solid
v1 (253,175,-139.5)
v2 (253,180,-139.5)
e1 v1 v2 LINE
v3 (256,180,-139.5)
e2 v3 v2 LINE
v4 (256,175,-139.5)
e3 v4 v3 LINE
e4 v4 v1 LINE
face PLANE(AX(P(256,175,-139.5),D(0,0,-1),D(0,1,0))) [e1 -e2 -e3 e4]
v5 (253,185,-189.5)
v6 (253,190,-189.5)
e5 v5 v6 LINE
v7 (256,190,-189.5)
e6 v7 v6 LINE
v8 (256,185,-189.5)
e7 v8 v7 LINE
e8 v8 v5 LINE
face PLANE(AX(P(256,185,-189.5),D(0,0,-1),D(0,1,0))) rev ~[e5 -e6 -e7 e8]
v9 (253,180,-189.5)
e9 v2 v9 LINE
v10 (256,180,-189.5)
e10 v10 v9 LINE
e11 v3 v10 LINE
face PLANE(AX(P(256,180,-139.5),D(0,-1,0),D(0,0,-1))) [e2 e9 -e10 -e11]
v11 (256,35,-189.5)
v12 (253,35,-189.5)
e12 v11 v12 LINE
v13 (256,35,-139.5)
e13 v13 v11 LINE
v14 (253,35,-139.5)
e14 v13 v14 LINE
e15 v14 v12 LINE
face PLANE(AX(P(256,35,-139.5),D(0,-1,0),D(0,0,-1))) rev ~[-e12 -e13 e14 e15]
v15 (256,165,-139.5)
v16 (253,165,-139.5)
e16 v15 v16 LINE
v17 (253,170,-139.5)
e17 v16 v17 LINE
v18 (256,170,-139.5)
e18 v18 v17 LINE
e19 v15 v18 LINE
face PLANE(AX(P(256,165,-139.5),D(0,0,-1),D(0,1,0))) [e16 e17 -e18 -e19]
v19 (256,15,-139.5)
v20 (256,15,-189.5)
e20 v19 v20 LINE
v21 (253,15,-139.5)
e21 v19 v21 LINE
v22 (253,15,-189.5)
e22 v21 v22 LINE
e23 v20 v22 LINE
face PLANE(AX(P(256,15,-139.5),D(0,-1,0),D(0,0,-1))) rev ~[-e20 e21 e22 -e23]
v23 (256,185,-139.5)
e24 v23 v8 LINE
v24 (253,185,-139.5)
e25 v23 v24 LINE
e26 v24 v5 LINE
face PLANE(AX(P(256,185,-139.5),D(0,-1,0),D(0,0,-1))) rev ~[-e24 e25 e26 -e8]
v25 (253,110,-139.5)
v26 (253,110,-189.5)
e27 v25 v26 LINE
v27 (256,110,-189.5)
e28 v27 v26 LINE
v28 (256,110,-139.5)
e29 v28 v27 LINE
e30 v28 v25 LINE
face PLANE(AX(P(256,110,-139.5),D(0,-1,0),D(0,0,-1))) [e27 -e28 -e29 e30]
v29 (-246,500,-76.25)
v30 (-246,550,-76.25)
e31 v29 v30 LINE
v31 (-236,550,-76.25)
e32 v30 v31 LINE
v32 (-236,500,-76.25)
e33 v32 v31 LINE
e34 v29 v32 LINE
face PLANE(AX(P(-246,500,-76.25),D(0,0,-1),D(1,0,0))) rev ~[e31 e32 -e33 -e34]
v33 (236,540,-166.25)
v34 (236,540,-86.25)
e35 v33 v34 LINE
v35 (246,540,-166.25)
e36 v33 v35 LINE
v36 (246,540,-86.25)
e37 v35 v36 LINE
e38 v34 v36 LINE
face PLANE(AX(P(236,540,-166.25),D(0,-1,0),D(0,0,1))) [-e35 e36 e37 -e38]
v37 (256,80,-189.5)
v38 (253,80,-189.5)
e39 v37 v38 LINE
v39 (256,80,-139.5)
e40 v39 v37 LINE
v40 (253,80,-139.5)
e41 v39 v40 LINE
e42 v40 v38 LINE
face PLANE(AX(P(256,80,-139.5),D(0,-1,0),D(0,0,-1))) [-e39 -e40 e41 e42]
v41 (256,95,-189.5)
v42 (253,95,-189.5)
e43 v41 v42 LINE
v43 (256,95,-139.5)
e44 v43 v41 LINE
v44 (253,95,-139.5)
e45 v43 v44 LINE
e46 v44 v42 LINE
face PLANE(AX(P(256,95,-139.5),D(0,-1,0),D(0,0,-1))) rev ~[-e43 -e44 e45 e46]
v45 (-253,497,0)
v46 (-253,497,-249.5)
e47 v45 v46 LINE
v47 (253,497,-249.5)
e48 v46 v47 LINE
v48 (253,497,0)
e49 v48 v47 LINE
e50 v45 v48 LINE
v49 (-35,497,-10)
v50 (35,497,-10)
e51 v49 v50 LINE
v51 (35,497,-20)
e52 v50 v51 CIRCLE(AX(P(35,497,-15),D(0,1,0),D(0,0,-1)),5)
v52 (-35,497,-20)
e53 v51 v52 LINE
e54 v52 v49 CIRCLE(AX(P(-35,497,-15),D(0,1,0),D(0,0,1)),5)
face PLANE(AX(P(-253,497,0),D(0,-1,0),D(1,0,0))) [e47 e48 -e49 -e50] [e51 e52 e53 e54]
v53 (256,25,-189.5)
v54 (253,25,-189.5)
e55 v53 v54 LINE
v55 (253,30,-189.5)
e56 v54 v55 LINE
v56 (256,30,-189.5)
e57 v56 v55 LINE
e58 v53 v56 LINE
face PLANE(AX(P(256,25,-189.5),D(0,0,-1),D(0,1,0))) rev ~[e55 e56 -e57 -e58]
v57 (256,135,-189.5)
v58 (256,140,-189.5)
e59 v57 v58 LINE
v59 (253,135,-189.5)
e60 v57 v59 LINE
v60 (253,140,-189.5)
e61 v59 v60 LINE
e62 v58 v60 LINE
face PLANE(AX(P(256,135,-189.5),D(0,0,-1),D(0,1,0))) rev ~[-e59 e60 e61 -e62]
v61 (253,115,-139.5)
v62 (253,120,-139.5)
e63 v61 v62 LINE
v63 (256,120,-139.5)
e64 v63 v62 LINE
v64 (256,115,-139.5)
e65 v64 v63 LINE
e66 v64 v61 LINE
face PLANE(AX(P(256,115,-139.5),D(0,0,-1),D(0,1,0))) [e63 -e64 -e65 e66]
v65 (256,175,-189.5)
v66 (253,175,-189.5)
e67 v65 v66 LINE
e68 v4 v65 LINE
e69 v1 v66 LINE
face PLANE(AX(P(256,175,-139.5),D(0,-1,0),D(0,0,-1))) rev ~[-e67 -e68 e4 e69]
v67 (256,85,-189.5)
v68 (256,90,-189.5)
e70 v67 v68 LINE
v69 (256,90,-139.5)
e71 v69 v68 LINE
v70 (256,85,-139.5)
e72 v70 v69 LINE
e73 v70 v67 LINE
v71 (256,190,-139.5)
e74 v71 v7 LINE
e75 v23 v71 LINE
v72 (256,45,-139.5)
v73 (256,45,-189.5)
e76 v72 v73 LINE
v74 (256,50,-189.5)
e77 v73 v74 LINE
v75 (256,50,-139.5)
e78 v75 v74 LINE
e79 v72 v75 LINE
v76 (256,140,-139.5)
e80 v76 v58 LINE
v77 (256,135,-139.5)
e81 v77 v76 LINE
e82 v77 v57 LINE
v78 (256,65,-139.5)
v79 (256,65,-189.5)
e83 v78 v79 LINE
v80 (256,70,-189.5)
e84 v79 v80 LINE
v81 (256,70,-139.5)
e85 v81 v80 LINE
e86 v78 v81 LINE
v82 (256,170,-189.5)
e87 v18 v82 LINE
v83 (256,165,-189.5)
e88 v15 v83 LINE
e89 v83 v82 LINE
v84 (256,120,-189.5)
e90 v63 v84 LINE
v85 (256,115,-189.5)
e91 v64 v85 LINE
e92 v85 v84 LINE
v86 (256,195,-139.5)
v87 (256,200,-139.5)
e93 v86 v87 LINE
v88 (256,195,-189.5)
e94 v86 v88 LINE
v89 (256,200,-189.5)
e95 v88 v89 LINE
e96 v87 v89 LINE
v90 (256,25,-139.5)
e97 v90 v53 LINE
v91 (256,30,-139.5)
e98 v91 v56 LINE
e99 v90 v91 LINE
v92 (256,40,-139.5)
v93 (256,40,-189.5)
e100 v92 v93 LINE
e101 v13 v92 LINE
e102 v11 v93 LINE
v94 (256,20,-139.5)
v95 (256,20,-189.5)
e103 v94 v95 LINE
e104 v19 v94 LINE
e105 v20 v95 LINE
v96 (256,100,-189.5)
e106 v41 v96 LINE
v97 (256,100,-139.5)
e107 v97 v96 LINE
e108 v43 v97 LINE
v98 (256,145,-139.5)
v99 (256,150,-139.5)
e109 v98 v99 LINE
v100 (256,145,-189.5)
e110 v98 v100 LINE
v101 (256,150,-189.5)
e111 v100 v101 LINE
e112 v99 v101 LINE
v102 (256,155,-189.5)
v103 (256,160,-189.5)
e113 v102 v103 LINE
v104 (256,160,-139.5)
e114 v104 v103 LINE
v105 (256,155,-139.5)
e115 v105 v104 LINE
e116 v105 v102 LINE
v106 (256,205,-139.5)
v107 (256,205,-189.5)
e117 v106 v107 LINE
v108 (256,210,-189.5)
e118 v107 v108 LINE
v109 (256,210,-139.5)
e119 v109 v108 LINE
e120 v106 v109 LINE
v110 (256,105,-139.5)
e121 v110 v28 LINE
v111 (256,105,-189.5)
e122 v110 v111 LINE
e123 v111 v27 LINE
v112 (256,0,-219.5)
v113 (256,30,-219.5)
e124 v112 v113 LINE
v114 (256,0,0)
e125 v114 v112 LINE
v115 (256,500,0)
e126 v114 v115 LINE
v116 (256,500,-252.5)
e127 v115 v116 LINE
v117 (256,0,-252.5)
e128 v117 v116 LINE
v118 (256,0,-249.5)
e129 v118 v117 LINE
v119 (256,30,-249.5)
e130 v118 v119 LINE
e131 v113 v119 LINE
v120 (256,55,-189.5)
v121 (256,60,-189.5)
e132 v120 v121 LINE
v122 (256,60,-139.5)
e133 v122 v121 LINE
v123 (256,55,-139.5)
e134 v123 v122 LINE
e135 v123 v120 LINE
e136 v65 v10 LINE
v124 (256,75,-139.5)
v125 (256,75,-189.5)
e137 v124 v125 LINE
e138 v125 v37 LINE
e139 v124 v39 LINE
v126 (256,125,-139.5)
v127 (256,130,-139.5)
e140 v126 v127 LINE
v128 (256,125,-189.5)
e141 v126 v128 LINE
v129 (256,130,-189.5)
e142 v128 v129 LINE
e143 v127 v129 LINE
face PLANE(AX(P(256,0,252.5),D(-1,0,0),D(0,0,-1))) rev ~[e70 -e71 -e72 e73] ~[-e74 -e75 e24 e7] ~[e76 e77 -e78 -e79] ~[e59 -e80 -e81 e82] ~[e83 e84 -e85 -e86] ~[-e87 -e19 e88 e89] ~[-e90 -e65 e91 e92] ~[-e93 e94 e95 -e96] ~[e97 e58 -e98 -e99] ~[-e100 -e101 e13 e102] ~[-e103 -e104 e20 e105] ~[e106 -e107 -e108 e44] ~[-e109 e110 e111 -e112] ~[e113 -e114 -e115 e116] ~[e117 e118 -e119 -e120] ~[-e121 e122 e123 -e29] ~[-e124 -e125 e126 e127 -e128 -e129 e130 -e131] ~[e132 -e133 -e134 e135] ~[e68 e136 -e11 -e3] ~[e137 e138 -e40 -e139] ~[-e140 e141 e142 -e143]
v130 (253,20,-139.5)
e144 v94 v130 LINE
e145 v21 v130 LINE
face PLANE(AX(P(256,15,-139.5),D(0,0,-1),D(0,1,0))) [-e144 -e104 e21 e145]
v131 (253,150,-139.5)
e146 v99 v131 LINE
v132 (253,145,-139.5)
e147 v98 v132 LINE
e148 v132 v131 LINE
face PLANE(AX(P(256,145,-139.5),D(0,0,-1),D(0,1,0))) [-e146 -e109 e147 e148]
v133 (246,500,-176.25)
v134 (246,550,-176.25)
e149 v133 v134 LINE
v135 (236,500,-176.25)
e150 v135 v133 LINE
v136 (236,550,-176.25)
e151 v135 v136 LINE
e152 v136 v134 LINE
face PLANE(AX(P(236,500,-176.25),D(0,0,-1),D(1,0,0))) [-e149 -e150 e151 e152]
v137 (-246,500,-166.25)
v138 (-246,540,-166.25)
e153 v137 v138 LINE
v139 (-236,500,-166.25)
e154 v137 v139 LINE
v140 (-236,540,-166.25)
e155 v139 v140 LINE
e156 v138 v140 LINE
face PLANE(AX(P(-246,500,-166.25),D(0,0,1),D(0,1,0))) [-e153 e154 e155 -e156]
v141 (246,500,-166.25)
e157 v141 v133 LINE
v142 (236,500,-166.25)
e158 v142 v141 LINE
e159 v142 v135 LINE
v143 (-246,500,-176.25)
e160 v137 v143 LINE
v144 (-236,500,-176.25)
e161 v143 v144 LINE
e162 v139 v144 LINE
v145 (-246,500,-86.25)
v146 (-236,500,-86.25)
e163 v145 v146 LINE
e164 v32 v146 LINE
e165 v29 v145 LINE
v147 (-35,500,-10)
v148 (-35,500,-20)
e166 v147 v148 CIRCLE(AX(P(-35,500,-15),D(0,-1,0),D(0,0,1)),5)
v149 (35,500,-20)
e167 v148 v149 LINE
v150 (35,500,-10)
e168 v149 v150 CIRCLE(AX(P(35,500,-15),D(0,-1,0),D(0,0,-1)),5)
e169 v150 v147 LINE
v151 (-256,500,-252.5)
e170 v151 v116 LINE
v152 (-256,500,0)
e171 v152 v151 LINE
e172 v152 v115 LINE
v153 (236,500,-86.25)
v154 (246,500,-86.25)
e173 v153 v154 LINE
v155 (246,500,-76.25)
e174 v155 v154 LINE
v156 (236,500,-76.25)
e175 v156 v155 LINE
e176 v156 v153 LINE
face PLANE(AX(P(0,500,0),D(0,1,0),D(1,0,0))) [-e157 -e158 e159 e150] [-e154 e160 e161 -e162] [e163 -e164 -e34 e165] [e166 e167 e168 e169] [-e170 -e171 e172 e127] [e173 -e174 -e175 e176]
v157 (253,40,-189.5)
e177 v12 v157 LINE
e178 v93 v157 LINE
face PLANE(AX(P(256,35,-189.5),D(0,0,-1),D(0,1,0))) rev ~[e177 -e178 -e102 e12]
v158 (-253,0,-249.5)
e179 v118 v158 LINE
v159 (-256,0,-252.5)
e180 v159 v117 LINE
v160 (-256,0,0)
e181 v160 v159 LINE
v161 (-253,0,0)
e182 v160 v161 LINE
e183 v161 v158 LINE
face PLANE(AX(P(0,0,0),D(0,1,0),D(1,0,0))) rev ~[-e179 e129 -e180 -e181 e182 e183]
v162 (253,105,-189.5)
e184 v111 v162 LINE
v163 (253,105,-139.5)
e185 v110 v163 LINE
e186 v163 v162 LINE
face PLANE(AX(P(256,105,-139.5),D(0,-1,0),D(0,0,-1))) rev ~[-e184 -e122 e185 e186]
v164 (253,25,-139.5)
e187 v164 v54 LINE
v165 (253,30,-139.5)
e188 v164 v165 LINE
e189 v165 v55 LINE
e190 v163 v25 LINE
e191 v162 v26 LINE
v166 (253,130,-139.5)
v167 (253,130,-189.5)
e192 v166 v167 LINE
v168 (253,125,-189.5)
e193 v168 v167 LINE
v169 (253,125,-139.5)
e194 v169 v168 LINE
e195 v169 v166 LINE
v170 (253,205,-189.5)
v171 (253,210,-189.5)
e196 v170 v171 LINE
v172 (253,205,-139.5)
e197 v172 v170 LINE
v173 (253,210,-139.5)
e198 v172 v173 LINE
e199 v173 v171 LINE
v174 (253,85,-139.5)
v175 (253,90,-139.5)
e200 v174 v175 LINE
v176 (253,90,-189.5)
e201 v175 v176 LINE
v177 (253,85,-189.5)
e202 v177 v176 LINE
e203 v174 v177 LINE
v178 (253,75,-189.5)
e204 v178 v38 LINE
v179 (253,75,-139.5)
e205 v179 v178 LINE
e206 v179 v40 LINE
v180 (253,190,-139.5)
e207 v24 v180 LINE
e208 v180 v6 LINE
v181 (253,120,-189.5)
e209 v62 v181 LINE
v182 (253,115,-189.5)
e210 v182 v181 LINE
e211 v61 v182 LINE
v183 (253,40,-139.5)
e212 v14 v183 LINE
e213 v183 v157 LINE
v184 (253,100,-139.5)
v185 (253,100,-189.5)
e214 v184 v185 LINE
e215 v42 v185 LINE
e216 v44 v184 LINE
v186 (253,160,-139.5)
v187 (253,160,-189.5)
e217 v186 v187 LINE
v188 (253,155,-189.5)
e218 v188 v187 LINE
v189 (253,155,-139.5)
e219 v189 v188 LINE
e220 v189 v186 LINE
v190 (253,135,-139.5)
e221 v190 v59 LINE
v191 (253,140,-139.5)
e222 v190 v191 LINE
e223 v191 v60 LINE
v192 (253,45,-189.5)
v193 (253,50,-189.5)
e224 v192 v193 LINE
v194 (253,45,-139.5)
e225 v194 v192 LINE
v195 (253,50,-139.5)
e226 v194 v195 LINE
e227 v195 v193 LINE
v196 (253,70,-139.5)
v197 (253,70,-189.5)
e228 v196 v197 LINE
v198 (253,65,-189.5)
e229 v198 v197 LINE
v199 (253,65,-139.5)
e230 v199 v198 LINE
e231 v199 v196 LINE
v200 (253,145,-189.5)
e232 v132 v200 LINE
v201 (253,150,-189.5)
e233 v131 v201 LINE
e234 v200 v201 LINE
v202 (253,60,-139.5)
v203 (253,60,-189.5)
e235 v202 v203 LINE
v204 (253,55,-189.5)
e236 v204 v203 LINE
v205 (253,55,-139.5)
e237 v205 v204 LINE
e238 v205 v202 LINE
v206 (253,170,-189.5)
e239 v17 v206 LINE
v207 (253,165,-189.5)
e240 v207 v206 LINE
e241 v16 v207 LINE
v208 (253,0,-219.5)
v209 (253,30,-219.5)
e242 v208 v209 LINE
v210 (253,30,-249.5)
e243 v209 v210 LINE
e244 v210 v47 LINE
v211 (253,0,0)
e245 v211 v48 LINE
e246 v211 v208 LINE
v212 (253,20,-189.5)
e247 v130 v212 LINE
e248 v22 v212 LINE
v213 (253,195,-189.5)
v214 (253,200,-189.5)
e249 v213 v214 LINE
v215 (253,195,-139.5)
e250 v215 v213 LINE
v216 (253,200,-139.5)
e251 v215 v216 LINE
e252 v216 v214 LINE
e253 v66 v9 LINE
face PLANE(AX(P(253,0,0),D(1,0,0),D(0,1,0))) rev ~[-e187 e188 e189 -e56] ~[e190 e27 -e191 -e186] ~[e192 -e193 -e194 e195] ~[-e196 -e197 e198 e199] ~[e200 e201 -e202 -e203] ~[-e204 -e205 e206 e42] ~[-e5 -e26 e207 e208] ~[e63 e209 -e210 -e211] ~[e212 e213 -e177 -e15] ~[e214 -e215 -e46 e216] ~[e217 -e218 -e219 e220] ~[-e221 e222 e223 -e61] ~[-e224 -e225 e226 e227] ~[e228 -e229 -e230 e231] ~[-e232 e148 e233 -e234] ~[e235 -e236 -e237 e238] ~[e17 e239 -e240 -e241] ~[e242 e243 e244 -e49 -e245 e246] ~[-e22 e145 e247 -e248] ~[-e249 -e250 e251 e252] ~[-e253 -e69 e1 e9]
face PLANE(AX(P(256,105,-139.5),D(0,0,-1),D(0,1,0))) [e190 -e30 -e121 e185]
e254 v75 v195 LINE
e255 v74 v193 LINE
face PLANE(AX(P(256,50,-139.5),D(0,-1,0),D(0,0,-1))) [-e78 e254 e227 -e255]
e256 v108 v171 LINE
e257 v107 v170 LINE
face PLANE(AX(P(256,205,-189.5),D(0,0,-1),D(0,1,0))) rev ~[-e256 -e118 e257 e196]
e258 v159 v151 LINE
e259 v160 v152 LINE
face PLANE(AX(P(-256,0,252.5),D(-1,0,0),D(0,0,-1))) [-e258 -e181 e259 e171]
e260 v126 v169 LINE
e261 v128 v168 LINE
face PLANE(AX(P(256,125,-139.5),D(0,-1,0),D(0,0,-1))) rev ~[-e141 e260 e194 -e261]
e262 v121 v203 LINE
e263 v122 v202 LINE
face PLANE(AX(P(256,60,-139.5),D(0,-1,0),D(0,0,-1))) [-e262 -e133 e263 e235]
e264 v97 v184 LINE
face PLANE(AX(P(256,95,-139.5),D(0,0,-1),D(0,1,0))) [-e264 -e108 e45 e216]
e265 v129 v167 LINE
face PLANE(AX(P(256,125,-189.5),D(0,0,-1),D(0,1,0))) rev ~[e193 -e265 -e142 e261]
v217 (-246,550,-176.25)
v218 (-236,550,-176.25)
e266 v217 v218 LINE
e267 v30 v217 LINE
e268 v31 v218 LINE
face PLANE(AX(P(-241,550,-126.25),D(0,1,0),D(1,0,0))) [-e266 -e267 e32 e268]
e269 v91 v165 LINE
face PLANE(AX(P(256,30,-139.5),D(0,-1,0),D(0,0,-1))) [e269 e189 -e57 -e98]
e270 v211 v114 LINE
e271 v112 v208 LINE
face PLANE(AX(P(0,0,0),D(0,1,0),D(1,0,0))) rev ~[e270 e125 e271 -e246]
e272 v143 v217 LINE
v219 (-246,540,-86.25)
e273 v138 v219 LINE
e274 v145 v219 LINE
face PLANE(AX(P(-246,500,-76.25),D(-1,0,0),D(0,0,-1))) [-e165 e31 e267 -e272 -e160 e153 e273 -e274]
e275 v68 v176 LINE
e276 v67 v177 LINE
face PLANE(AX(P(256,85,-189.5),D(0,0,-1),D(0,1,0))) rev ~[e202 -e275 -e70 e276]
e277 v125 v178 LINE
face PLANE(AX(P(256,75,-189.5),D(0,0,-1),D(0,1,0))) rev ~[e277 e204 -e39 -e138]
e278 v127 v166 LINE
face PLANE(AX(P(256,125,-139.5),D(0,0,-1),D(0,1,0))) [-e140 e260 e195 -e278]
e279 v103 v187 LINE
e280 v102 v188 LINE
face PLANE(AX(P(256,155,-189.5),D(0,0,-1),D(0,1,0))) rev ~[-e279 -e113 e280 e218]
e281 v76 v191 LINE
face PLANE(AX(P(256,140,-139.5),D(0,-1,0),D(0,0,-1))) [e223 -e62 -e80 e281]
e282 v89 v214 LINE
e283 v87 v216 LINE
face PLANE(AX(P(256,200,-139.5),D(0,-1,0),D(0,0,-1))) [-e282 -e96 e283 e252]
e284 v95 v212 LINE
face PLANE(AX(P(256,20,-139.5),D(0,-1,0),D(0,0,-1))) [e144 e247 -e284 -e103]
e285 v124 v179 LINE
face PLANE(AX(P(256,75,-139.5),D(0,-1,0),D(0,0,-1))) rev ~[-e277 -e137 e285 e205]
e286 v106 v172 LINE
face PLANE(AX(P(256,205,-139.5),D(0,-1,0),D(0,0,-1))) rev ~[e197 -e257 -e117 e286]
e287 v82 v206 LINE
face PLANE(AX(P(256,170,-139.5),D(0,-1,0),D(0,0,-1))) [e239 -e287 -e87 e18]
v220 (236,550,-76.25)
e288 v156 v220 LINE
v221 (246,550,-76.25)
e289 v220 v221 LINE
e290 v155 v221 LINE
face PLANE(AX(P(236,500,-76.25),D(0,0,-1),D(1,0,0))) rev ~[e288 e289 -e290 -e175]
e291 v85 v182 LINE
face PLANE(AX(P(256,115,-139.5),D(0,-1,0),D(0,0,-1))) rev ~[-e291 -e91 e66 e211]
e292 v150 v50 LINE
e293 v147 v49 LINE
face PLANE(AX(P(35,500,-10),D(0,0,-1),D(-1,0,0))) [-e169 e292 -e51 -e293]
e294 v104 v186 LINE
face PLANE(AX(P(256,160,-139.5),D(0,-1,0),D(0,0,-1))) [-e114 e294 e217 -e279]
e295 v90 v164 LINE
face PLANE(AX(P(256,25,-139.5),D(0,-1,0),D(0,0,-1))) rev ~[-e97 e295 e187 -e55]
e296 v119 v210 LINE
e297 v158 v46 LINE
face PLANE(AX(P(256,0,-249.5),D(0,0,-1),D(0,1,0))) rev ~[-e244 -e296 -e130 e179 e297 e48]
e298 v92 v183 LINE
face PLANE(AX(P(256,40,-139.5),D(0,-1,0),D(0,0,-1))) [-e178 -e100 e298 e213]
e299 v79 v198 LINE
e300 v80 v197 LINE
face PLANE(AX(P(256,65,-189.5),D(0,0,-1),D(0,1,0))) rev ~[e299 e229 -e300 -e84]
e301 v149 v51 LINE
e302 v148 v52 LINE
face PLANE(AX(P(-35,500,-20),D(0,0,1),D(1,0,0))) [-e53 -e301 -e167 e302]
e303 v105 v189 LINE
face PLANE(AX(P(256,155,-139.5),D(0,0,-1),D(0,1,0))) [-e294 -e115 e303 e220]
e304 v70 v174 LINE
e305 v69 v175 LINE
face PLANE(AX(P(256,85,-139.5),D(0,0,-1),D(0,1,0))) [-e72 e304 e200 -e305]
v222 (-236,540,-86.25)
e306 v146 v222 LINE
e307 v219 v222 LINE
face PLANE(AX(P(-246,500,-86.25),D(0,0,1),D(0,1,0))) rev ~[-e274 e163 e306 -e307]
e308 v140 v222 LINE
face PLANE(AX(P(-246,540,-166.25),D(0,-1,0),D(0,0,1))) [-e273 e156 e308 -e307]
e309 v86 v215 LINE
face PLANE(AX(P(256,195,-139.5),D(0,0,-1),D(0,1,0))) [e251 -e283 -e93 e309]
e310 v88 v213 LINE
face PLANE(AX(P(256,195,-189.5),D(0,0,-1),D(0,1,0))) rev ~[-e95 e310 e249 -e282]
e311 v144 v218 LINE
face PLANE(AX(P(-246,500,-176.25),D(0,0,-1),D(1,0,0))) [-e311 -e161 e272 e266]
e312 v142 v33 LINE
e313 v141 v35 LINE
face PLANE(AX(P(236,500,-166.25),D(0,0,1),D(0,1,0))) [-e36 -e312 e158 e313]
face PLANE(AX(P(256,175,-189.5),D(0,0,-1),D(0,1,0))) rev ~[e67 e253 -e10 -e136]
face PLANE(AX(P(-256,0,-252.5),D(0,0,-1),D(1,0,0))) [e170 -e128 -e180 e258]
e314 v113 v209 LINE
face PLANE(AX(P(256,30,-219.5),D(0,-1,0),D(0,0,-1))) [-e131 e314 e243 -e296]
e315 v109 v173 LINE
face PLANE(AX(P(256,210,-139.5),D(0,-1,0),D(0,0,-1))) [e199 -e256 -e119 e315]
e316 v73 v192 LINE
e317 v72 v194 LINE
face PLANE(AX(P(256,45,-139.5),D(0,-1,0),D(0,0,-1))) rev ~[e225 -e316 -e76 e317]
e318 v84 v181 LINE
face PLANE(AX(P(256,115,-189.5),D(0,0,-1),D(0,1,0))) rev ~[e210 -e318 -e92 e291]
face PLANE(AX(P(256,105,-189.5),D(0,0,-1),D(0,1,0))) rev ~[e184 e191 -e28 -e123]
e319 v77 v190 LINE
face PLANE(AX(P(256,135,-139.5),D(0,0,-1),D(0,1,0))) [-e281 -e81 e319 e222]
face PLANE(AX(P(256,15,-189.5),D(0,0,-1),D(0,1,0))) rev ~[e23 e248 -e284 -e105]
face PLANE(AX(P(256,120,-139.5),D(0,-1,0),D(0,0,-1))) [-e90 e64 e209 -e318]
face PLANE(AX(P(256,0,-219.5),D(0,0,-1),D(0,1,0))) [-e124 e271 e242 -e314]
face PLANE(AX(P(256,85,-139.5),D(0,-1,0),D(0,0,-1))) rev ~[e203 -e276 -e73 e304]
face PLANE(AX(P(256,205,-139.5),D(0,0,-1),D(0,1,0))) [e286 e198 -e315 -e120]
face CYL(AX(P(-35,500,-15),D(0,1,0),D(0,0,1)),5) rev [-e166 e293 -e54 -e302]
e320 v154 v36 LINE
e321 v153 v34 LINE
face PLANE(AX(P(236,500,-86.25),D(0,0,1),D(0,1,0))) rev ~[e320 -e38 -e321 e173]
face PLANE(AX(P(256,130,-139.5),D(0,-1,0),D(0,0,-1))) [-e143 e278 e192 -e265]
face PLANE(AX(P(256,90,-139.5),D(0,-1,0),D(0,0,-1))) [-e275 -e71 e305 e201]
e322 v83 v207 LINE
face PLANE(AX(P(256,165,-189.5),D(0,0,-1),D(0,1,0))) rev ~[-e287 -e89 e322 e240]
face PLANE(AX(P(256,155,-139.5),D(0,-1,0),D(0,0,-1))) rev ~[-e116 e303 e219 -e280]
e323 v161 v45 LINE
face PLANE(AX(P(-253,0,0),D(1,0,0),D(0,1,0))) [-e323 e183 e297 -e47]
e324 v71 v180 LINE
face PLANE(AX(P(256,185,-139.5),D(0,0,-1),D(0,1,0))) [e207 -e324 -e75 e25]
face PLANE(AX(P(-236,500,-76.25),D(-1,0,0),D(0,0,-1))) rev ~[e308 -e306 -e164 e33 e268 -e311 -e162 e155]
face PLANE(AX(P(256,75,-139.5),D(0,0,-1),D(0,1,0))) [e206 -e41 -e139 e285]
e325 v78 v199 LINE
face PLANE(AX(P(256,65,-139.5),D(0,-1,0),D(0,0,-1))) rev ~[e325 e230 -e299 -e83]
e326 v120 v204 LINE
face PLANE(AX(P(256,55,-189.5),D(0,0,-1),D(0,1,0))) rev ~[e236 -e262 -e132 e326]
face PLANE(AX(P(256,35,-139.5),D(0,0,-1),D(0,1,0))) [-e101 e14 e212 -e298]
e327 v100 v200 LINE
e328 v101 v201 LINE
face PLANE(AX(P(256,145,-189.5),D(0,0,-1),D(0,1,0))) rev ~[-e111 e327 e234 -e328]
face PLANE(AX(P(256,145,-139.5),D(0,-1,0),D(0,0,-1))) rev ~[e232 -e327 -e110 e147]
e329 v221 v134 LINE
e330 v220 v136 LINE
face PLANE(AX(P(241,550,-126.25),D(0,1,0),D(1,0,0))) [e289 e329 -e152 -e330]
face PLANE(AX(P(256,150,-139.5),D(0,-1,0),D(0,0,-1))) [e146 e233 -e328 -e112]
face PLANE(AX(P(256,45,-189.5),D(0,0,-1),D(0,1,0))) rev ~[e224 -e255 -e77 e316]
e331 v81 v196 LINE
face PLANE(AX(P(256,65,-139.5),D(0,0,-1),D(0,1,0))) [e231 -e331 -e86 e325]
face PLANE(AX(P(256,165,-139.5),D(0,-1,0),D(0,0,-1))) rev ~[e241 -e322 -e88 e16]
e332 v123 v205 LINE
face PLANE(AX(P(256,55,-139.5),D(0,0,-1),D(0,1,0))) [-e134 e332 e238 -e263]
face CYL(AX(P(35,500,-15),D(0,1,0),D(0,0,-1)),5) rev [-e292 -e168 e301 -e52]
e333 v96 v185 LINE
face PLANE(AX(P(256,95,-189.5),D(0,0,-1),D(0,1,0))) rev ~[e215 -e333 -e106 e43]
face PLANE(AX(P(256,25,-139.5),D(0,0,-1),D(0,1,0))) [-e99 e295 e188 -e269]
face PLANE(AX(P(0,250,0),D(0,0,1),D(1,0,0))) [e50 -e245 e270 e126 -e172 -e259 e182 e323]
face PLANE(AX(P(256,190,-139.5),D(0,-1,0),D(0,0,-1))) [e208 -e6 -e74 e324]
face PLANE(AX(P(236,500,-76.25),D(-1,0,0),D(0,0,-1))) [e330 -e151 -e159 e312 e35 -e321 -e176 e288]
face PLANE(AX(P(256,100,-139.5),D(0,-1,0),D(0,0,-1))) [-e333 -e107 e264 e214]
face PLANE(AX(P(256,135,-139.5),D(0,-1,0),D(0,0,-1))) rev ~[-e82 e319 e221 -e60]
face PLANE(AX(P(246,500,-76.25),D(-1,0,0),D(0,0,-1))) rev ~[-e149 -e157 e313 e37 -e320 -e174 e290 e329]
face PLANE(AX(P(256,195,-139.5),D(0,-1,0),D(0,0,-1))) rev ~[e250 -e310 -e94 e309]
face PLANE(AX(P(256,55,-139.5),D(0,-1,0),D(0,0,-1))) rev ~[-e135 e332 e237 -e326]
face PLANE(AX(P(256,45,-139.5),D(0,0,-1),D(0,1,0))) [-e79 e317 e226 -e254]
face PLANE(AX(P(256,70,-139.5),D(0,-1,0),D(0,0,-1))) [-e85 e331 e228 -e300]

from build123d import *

# Parameters (mm, degrees)
ESBO_O1_W                = 512
ESBO_O1_H                = 505
RESSALTO_EXTRUS_O1_DEPTH = 500
ESBO_O2_W                = 522
ESBO_O2_H                = 510
CORTE_EXTRUS_O1_DEPTH    = 252.5
ESBO_O6_W                = 506
ESBO_O6_H                = 497
CORTE_EXTRUS_O4_DEPTH    = 249.5
ESBO_O7_W                = 30
ESBO_O7_H                = 30
CABO_DE_ALIMENTA_O_DEPTH = 5
ESBO_O9_W                = 50
ESBO_O9_H                = 5
CORTE_EXTRUS_O6_DEPTH    = 5
PASSAGEM_FILAMENTO_DEPTH = 5
ESBO_O69_W               = 10
ESBO_O69_H               = 100
AL_A_2_DEPTH             = 50
ESBO_O70_W               = 80
ESBO_O70_H               = 40
AL_A_2_2_DEPTH           = 10
ESBO_O72_W               = 10
ESBO_O72_H               = 100
AL_A_1_DEPTH             = 50
ESBO_O74_W               = 80
ESBO_O74_H               = 40
AL_A_1_2_DEPTH           = 10


with BuildPart() as part:
    # Esboço1 → Ressalto-extrusão1 (new body)
    with BuildSketch(Plane(origin=(0, 0, 0), x_dir=(1, 0, 0), z_dir=(0, 1, 0))):
        Rectangle(ESBO_O1_W, ESBO_O1_H)
    extrude(amount=RESSALTO_EXTRUS_O1_DEPTH)

    # Esboço2 → Corte-extrusão1 (cut)
    with BuildSketch(Plane.XY.offset(252.5)):
        with Locations((0, 250)):
            Rectangle(ESBO_O2_W, ESBO_O2_H)
    extrude(amount=-CORTE_EXTRUS_O1_DEPTH, mode=Mode.SUBTRACT)

    # Esboço6 → Corte-extrusão4 (cut)
    with BuildSketch(Plane.XY):
        with Locations((0, 248.5)):
            Rectangle(ESBO_O6_W, ESBO_O6_H)
    extrude(amount=-CORTE_EXTRUS_O4_DEPTH, mode=Mode.SUBTRACT)

    # Esboço7 → Cabo de alimentação (cut)
    with BuildSketch(Plane(origin=(256, 0, 0), x_dir=(0, 0, -1), z_dir=(1, 0, 0))):
        with Locations((234.5, 15)):
            Rectangle(ESBO_O7_W, ESBO_O7_H)
    extrude(amount=-CABO_DE_ALIMENTA_O_DEPTH, mode=Mode.SUBTRACT)

    # Esboço9 → Corte-extrusão6 (cut)
    with BuildSketch(Plane(origin=(256, 0, 0), x_dir=(0, 0, -1), z_dir=(1, 0, 0))):
        with Locations((164.5, 17.5)):
            Rectangle(ESBO_O9_W, ESBO_O9_H)
        with Locations((164.5, 27.5)):
            Rectangle(ESBO_O9_W, ESBO_O9_H)
        with Locations((164.5, 47.5)):
            Rectangle(ESBO_O9_W, ESBO_O9_H)
        with Locations((164.5, 37.5)):
            Rectangle(ESBO_O9_W, ESBO_O9_H)
        with Locations((164.5, 67.5)):
            Rectangle(ESBO_O9_W, ESBO_O9_H)
        with Locations((164.5, 77.5)):
            Rectangle(ESBO_O9_W, ESBO_O9_H)
        with Locations((164.5, 87.5)):
            Rectangle(ESBO_O9_W, ESBO_O9_H)
        with Locations((164.5, 57.5)):
            Rectangle(ESBO_O9_W, ESBO_O9_H)
        with Locations((164.5, 107.5)):
            Rectangle(ESBO_O9_W, ESBO_O9_H)
        with Locations((164.5, 157.5)):
            Rectangle(ESBO_O9_W, ESBO_O9_H)
        with Locations((164.5, 117.5)):
            Rectangle(ESBO_O9_W, ESBO_O9_H)
        with Locations((164.5, 167.5)):
            Rectangle(ESBO_O9_W, ESBO_O9_H)
        with Locations((164.5, 127.5)):
            Rectangle(ESBO_O9_W, ESBO_O9_H)
        with Locations((164.5, 97.5)):
            Rectangle(ESBO_O9_W, ESBO_O9_H)
        with Locations((164.5, 147.5)):
            Rectangle(ESBO_O9_W, ESBO_O9_H)
        with Locations((164.5, 137.5)):
            Rectangle(ESBO_O9_W, ESBO_O9_H)
        with Locations((164.5, 177.5)):
            Rectangle(ESBO_O9_W, ESBO_O9_H)
        with Locations((164.5, 187.5)):
            Rectangle(ESBO_O9_W, ESBO_O9_H)
        with Locations((164.5, 207.5)):
            Rectangle(ESBO_O9_W, ESBO_O9_H)
        with Locations((164.5, 197.5)):
            Rectangle(ESBO_O9_W, ESBO_O9_H)
    extrude(amount=-CORTE_EXTRUS_O6_DEPTH, mode=Mode.SUBTRACT)

    # Esboço68 → Passagem Filamento (cut)
    with BuildSketch(Plane(origin=(0, 500, 0), x_dir=(1, 0, 0), z_dir=(0, 1, 0))):
        with BuildLine():
            Line((-35, 20), (35, 20))
            ThreePointArc((35, 20), (40, 15), (35, 10))
            Line((35, 10), (-35, 10))
            ThreePointArc((-35, 10), (-40, 15), (-35, 20))
        make_face()
    extrude(amount=-PASSAGEM_FILAMENTO_DEPTH, mode=Mode.SUBTRACT)

    # Esboço69 → Al_a - 2 (add)
    with BuildSketch(Plane(origin=(0, 500, 0), x_dir=(1, 0, 0), z_dir=(0, 1, 0))):
        with Locations((-241, 126.25)):
            Rectangle(ESBO_O69_W, ESBO_O69_H)
    extrude(amount=AL_A_2_DEPTH)

    # Esboço70 → Al_a _2 2 (cut)
    with BuildSketch(Plane.ZY.offset(246)):
        with Locations((-126.25, 520)):
            Rectangle(ESBO_O70_W, ESBO_O70_H)
    extrude(amount=-AL_A_2_2_DEPTH, mode=Mode.SUBTRACT)

    # Esboço72 → Al_a - 1 (add)
    with BuildSketch(Plane(origin=(531.113648875, 500, -10.670910915), x_dir=(1, 0, 0), z_dir=(0, 1, 0))):
        with Locations((-290.113648875, 115.579089085)):
            Rectangle(ESBO_O72_W, ESBO_O72_H)
    extrude(amount=AL_A_1_DEPTH)

    # Esboço74 → Al_a _1 2 (cut)
    with BuildSketch(Plane(origin=(236, 0, -10.670910915), x_dir=(0, 0, 1), z_dir=(-1, 0, 0))):
        with Locations((-115.579089085, 520)):
            Rectangle(ESBO_O74_W, ESBO_O74_H)
    extrude(amount=-AL_A_1_2_DEPTH, mode=Mode.SUBTRACT)


solid = part.part
